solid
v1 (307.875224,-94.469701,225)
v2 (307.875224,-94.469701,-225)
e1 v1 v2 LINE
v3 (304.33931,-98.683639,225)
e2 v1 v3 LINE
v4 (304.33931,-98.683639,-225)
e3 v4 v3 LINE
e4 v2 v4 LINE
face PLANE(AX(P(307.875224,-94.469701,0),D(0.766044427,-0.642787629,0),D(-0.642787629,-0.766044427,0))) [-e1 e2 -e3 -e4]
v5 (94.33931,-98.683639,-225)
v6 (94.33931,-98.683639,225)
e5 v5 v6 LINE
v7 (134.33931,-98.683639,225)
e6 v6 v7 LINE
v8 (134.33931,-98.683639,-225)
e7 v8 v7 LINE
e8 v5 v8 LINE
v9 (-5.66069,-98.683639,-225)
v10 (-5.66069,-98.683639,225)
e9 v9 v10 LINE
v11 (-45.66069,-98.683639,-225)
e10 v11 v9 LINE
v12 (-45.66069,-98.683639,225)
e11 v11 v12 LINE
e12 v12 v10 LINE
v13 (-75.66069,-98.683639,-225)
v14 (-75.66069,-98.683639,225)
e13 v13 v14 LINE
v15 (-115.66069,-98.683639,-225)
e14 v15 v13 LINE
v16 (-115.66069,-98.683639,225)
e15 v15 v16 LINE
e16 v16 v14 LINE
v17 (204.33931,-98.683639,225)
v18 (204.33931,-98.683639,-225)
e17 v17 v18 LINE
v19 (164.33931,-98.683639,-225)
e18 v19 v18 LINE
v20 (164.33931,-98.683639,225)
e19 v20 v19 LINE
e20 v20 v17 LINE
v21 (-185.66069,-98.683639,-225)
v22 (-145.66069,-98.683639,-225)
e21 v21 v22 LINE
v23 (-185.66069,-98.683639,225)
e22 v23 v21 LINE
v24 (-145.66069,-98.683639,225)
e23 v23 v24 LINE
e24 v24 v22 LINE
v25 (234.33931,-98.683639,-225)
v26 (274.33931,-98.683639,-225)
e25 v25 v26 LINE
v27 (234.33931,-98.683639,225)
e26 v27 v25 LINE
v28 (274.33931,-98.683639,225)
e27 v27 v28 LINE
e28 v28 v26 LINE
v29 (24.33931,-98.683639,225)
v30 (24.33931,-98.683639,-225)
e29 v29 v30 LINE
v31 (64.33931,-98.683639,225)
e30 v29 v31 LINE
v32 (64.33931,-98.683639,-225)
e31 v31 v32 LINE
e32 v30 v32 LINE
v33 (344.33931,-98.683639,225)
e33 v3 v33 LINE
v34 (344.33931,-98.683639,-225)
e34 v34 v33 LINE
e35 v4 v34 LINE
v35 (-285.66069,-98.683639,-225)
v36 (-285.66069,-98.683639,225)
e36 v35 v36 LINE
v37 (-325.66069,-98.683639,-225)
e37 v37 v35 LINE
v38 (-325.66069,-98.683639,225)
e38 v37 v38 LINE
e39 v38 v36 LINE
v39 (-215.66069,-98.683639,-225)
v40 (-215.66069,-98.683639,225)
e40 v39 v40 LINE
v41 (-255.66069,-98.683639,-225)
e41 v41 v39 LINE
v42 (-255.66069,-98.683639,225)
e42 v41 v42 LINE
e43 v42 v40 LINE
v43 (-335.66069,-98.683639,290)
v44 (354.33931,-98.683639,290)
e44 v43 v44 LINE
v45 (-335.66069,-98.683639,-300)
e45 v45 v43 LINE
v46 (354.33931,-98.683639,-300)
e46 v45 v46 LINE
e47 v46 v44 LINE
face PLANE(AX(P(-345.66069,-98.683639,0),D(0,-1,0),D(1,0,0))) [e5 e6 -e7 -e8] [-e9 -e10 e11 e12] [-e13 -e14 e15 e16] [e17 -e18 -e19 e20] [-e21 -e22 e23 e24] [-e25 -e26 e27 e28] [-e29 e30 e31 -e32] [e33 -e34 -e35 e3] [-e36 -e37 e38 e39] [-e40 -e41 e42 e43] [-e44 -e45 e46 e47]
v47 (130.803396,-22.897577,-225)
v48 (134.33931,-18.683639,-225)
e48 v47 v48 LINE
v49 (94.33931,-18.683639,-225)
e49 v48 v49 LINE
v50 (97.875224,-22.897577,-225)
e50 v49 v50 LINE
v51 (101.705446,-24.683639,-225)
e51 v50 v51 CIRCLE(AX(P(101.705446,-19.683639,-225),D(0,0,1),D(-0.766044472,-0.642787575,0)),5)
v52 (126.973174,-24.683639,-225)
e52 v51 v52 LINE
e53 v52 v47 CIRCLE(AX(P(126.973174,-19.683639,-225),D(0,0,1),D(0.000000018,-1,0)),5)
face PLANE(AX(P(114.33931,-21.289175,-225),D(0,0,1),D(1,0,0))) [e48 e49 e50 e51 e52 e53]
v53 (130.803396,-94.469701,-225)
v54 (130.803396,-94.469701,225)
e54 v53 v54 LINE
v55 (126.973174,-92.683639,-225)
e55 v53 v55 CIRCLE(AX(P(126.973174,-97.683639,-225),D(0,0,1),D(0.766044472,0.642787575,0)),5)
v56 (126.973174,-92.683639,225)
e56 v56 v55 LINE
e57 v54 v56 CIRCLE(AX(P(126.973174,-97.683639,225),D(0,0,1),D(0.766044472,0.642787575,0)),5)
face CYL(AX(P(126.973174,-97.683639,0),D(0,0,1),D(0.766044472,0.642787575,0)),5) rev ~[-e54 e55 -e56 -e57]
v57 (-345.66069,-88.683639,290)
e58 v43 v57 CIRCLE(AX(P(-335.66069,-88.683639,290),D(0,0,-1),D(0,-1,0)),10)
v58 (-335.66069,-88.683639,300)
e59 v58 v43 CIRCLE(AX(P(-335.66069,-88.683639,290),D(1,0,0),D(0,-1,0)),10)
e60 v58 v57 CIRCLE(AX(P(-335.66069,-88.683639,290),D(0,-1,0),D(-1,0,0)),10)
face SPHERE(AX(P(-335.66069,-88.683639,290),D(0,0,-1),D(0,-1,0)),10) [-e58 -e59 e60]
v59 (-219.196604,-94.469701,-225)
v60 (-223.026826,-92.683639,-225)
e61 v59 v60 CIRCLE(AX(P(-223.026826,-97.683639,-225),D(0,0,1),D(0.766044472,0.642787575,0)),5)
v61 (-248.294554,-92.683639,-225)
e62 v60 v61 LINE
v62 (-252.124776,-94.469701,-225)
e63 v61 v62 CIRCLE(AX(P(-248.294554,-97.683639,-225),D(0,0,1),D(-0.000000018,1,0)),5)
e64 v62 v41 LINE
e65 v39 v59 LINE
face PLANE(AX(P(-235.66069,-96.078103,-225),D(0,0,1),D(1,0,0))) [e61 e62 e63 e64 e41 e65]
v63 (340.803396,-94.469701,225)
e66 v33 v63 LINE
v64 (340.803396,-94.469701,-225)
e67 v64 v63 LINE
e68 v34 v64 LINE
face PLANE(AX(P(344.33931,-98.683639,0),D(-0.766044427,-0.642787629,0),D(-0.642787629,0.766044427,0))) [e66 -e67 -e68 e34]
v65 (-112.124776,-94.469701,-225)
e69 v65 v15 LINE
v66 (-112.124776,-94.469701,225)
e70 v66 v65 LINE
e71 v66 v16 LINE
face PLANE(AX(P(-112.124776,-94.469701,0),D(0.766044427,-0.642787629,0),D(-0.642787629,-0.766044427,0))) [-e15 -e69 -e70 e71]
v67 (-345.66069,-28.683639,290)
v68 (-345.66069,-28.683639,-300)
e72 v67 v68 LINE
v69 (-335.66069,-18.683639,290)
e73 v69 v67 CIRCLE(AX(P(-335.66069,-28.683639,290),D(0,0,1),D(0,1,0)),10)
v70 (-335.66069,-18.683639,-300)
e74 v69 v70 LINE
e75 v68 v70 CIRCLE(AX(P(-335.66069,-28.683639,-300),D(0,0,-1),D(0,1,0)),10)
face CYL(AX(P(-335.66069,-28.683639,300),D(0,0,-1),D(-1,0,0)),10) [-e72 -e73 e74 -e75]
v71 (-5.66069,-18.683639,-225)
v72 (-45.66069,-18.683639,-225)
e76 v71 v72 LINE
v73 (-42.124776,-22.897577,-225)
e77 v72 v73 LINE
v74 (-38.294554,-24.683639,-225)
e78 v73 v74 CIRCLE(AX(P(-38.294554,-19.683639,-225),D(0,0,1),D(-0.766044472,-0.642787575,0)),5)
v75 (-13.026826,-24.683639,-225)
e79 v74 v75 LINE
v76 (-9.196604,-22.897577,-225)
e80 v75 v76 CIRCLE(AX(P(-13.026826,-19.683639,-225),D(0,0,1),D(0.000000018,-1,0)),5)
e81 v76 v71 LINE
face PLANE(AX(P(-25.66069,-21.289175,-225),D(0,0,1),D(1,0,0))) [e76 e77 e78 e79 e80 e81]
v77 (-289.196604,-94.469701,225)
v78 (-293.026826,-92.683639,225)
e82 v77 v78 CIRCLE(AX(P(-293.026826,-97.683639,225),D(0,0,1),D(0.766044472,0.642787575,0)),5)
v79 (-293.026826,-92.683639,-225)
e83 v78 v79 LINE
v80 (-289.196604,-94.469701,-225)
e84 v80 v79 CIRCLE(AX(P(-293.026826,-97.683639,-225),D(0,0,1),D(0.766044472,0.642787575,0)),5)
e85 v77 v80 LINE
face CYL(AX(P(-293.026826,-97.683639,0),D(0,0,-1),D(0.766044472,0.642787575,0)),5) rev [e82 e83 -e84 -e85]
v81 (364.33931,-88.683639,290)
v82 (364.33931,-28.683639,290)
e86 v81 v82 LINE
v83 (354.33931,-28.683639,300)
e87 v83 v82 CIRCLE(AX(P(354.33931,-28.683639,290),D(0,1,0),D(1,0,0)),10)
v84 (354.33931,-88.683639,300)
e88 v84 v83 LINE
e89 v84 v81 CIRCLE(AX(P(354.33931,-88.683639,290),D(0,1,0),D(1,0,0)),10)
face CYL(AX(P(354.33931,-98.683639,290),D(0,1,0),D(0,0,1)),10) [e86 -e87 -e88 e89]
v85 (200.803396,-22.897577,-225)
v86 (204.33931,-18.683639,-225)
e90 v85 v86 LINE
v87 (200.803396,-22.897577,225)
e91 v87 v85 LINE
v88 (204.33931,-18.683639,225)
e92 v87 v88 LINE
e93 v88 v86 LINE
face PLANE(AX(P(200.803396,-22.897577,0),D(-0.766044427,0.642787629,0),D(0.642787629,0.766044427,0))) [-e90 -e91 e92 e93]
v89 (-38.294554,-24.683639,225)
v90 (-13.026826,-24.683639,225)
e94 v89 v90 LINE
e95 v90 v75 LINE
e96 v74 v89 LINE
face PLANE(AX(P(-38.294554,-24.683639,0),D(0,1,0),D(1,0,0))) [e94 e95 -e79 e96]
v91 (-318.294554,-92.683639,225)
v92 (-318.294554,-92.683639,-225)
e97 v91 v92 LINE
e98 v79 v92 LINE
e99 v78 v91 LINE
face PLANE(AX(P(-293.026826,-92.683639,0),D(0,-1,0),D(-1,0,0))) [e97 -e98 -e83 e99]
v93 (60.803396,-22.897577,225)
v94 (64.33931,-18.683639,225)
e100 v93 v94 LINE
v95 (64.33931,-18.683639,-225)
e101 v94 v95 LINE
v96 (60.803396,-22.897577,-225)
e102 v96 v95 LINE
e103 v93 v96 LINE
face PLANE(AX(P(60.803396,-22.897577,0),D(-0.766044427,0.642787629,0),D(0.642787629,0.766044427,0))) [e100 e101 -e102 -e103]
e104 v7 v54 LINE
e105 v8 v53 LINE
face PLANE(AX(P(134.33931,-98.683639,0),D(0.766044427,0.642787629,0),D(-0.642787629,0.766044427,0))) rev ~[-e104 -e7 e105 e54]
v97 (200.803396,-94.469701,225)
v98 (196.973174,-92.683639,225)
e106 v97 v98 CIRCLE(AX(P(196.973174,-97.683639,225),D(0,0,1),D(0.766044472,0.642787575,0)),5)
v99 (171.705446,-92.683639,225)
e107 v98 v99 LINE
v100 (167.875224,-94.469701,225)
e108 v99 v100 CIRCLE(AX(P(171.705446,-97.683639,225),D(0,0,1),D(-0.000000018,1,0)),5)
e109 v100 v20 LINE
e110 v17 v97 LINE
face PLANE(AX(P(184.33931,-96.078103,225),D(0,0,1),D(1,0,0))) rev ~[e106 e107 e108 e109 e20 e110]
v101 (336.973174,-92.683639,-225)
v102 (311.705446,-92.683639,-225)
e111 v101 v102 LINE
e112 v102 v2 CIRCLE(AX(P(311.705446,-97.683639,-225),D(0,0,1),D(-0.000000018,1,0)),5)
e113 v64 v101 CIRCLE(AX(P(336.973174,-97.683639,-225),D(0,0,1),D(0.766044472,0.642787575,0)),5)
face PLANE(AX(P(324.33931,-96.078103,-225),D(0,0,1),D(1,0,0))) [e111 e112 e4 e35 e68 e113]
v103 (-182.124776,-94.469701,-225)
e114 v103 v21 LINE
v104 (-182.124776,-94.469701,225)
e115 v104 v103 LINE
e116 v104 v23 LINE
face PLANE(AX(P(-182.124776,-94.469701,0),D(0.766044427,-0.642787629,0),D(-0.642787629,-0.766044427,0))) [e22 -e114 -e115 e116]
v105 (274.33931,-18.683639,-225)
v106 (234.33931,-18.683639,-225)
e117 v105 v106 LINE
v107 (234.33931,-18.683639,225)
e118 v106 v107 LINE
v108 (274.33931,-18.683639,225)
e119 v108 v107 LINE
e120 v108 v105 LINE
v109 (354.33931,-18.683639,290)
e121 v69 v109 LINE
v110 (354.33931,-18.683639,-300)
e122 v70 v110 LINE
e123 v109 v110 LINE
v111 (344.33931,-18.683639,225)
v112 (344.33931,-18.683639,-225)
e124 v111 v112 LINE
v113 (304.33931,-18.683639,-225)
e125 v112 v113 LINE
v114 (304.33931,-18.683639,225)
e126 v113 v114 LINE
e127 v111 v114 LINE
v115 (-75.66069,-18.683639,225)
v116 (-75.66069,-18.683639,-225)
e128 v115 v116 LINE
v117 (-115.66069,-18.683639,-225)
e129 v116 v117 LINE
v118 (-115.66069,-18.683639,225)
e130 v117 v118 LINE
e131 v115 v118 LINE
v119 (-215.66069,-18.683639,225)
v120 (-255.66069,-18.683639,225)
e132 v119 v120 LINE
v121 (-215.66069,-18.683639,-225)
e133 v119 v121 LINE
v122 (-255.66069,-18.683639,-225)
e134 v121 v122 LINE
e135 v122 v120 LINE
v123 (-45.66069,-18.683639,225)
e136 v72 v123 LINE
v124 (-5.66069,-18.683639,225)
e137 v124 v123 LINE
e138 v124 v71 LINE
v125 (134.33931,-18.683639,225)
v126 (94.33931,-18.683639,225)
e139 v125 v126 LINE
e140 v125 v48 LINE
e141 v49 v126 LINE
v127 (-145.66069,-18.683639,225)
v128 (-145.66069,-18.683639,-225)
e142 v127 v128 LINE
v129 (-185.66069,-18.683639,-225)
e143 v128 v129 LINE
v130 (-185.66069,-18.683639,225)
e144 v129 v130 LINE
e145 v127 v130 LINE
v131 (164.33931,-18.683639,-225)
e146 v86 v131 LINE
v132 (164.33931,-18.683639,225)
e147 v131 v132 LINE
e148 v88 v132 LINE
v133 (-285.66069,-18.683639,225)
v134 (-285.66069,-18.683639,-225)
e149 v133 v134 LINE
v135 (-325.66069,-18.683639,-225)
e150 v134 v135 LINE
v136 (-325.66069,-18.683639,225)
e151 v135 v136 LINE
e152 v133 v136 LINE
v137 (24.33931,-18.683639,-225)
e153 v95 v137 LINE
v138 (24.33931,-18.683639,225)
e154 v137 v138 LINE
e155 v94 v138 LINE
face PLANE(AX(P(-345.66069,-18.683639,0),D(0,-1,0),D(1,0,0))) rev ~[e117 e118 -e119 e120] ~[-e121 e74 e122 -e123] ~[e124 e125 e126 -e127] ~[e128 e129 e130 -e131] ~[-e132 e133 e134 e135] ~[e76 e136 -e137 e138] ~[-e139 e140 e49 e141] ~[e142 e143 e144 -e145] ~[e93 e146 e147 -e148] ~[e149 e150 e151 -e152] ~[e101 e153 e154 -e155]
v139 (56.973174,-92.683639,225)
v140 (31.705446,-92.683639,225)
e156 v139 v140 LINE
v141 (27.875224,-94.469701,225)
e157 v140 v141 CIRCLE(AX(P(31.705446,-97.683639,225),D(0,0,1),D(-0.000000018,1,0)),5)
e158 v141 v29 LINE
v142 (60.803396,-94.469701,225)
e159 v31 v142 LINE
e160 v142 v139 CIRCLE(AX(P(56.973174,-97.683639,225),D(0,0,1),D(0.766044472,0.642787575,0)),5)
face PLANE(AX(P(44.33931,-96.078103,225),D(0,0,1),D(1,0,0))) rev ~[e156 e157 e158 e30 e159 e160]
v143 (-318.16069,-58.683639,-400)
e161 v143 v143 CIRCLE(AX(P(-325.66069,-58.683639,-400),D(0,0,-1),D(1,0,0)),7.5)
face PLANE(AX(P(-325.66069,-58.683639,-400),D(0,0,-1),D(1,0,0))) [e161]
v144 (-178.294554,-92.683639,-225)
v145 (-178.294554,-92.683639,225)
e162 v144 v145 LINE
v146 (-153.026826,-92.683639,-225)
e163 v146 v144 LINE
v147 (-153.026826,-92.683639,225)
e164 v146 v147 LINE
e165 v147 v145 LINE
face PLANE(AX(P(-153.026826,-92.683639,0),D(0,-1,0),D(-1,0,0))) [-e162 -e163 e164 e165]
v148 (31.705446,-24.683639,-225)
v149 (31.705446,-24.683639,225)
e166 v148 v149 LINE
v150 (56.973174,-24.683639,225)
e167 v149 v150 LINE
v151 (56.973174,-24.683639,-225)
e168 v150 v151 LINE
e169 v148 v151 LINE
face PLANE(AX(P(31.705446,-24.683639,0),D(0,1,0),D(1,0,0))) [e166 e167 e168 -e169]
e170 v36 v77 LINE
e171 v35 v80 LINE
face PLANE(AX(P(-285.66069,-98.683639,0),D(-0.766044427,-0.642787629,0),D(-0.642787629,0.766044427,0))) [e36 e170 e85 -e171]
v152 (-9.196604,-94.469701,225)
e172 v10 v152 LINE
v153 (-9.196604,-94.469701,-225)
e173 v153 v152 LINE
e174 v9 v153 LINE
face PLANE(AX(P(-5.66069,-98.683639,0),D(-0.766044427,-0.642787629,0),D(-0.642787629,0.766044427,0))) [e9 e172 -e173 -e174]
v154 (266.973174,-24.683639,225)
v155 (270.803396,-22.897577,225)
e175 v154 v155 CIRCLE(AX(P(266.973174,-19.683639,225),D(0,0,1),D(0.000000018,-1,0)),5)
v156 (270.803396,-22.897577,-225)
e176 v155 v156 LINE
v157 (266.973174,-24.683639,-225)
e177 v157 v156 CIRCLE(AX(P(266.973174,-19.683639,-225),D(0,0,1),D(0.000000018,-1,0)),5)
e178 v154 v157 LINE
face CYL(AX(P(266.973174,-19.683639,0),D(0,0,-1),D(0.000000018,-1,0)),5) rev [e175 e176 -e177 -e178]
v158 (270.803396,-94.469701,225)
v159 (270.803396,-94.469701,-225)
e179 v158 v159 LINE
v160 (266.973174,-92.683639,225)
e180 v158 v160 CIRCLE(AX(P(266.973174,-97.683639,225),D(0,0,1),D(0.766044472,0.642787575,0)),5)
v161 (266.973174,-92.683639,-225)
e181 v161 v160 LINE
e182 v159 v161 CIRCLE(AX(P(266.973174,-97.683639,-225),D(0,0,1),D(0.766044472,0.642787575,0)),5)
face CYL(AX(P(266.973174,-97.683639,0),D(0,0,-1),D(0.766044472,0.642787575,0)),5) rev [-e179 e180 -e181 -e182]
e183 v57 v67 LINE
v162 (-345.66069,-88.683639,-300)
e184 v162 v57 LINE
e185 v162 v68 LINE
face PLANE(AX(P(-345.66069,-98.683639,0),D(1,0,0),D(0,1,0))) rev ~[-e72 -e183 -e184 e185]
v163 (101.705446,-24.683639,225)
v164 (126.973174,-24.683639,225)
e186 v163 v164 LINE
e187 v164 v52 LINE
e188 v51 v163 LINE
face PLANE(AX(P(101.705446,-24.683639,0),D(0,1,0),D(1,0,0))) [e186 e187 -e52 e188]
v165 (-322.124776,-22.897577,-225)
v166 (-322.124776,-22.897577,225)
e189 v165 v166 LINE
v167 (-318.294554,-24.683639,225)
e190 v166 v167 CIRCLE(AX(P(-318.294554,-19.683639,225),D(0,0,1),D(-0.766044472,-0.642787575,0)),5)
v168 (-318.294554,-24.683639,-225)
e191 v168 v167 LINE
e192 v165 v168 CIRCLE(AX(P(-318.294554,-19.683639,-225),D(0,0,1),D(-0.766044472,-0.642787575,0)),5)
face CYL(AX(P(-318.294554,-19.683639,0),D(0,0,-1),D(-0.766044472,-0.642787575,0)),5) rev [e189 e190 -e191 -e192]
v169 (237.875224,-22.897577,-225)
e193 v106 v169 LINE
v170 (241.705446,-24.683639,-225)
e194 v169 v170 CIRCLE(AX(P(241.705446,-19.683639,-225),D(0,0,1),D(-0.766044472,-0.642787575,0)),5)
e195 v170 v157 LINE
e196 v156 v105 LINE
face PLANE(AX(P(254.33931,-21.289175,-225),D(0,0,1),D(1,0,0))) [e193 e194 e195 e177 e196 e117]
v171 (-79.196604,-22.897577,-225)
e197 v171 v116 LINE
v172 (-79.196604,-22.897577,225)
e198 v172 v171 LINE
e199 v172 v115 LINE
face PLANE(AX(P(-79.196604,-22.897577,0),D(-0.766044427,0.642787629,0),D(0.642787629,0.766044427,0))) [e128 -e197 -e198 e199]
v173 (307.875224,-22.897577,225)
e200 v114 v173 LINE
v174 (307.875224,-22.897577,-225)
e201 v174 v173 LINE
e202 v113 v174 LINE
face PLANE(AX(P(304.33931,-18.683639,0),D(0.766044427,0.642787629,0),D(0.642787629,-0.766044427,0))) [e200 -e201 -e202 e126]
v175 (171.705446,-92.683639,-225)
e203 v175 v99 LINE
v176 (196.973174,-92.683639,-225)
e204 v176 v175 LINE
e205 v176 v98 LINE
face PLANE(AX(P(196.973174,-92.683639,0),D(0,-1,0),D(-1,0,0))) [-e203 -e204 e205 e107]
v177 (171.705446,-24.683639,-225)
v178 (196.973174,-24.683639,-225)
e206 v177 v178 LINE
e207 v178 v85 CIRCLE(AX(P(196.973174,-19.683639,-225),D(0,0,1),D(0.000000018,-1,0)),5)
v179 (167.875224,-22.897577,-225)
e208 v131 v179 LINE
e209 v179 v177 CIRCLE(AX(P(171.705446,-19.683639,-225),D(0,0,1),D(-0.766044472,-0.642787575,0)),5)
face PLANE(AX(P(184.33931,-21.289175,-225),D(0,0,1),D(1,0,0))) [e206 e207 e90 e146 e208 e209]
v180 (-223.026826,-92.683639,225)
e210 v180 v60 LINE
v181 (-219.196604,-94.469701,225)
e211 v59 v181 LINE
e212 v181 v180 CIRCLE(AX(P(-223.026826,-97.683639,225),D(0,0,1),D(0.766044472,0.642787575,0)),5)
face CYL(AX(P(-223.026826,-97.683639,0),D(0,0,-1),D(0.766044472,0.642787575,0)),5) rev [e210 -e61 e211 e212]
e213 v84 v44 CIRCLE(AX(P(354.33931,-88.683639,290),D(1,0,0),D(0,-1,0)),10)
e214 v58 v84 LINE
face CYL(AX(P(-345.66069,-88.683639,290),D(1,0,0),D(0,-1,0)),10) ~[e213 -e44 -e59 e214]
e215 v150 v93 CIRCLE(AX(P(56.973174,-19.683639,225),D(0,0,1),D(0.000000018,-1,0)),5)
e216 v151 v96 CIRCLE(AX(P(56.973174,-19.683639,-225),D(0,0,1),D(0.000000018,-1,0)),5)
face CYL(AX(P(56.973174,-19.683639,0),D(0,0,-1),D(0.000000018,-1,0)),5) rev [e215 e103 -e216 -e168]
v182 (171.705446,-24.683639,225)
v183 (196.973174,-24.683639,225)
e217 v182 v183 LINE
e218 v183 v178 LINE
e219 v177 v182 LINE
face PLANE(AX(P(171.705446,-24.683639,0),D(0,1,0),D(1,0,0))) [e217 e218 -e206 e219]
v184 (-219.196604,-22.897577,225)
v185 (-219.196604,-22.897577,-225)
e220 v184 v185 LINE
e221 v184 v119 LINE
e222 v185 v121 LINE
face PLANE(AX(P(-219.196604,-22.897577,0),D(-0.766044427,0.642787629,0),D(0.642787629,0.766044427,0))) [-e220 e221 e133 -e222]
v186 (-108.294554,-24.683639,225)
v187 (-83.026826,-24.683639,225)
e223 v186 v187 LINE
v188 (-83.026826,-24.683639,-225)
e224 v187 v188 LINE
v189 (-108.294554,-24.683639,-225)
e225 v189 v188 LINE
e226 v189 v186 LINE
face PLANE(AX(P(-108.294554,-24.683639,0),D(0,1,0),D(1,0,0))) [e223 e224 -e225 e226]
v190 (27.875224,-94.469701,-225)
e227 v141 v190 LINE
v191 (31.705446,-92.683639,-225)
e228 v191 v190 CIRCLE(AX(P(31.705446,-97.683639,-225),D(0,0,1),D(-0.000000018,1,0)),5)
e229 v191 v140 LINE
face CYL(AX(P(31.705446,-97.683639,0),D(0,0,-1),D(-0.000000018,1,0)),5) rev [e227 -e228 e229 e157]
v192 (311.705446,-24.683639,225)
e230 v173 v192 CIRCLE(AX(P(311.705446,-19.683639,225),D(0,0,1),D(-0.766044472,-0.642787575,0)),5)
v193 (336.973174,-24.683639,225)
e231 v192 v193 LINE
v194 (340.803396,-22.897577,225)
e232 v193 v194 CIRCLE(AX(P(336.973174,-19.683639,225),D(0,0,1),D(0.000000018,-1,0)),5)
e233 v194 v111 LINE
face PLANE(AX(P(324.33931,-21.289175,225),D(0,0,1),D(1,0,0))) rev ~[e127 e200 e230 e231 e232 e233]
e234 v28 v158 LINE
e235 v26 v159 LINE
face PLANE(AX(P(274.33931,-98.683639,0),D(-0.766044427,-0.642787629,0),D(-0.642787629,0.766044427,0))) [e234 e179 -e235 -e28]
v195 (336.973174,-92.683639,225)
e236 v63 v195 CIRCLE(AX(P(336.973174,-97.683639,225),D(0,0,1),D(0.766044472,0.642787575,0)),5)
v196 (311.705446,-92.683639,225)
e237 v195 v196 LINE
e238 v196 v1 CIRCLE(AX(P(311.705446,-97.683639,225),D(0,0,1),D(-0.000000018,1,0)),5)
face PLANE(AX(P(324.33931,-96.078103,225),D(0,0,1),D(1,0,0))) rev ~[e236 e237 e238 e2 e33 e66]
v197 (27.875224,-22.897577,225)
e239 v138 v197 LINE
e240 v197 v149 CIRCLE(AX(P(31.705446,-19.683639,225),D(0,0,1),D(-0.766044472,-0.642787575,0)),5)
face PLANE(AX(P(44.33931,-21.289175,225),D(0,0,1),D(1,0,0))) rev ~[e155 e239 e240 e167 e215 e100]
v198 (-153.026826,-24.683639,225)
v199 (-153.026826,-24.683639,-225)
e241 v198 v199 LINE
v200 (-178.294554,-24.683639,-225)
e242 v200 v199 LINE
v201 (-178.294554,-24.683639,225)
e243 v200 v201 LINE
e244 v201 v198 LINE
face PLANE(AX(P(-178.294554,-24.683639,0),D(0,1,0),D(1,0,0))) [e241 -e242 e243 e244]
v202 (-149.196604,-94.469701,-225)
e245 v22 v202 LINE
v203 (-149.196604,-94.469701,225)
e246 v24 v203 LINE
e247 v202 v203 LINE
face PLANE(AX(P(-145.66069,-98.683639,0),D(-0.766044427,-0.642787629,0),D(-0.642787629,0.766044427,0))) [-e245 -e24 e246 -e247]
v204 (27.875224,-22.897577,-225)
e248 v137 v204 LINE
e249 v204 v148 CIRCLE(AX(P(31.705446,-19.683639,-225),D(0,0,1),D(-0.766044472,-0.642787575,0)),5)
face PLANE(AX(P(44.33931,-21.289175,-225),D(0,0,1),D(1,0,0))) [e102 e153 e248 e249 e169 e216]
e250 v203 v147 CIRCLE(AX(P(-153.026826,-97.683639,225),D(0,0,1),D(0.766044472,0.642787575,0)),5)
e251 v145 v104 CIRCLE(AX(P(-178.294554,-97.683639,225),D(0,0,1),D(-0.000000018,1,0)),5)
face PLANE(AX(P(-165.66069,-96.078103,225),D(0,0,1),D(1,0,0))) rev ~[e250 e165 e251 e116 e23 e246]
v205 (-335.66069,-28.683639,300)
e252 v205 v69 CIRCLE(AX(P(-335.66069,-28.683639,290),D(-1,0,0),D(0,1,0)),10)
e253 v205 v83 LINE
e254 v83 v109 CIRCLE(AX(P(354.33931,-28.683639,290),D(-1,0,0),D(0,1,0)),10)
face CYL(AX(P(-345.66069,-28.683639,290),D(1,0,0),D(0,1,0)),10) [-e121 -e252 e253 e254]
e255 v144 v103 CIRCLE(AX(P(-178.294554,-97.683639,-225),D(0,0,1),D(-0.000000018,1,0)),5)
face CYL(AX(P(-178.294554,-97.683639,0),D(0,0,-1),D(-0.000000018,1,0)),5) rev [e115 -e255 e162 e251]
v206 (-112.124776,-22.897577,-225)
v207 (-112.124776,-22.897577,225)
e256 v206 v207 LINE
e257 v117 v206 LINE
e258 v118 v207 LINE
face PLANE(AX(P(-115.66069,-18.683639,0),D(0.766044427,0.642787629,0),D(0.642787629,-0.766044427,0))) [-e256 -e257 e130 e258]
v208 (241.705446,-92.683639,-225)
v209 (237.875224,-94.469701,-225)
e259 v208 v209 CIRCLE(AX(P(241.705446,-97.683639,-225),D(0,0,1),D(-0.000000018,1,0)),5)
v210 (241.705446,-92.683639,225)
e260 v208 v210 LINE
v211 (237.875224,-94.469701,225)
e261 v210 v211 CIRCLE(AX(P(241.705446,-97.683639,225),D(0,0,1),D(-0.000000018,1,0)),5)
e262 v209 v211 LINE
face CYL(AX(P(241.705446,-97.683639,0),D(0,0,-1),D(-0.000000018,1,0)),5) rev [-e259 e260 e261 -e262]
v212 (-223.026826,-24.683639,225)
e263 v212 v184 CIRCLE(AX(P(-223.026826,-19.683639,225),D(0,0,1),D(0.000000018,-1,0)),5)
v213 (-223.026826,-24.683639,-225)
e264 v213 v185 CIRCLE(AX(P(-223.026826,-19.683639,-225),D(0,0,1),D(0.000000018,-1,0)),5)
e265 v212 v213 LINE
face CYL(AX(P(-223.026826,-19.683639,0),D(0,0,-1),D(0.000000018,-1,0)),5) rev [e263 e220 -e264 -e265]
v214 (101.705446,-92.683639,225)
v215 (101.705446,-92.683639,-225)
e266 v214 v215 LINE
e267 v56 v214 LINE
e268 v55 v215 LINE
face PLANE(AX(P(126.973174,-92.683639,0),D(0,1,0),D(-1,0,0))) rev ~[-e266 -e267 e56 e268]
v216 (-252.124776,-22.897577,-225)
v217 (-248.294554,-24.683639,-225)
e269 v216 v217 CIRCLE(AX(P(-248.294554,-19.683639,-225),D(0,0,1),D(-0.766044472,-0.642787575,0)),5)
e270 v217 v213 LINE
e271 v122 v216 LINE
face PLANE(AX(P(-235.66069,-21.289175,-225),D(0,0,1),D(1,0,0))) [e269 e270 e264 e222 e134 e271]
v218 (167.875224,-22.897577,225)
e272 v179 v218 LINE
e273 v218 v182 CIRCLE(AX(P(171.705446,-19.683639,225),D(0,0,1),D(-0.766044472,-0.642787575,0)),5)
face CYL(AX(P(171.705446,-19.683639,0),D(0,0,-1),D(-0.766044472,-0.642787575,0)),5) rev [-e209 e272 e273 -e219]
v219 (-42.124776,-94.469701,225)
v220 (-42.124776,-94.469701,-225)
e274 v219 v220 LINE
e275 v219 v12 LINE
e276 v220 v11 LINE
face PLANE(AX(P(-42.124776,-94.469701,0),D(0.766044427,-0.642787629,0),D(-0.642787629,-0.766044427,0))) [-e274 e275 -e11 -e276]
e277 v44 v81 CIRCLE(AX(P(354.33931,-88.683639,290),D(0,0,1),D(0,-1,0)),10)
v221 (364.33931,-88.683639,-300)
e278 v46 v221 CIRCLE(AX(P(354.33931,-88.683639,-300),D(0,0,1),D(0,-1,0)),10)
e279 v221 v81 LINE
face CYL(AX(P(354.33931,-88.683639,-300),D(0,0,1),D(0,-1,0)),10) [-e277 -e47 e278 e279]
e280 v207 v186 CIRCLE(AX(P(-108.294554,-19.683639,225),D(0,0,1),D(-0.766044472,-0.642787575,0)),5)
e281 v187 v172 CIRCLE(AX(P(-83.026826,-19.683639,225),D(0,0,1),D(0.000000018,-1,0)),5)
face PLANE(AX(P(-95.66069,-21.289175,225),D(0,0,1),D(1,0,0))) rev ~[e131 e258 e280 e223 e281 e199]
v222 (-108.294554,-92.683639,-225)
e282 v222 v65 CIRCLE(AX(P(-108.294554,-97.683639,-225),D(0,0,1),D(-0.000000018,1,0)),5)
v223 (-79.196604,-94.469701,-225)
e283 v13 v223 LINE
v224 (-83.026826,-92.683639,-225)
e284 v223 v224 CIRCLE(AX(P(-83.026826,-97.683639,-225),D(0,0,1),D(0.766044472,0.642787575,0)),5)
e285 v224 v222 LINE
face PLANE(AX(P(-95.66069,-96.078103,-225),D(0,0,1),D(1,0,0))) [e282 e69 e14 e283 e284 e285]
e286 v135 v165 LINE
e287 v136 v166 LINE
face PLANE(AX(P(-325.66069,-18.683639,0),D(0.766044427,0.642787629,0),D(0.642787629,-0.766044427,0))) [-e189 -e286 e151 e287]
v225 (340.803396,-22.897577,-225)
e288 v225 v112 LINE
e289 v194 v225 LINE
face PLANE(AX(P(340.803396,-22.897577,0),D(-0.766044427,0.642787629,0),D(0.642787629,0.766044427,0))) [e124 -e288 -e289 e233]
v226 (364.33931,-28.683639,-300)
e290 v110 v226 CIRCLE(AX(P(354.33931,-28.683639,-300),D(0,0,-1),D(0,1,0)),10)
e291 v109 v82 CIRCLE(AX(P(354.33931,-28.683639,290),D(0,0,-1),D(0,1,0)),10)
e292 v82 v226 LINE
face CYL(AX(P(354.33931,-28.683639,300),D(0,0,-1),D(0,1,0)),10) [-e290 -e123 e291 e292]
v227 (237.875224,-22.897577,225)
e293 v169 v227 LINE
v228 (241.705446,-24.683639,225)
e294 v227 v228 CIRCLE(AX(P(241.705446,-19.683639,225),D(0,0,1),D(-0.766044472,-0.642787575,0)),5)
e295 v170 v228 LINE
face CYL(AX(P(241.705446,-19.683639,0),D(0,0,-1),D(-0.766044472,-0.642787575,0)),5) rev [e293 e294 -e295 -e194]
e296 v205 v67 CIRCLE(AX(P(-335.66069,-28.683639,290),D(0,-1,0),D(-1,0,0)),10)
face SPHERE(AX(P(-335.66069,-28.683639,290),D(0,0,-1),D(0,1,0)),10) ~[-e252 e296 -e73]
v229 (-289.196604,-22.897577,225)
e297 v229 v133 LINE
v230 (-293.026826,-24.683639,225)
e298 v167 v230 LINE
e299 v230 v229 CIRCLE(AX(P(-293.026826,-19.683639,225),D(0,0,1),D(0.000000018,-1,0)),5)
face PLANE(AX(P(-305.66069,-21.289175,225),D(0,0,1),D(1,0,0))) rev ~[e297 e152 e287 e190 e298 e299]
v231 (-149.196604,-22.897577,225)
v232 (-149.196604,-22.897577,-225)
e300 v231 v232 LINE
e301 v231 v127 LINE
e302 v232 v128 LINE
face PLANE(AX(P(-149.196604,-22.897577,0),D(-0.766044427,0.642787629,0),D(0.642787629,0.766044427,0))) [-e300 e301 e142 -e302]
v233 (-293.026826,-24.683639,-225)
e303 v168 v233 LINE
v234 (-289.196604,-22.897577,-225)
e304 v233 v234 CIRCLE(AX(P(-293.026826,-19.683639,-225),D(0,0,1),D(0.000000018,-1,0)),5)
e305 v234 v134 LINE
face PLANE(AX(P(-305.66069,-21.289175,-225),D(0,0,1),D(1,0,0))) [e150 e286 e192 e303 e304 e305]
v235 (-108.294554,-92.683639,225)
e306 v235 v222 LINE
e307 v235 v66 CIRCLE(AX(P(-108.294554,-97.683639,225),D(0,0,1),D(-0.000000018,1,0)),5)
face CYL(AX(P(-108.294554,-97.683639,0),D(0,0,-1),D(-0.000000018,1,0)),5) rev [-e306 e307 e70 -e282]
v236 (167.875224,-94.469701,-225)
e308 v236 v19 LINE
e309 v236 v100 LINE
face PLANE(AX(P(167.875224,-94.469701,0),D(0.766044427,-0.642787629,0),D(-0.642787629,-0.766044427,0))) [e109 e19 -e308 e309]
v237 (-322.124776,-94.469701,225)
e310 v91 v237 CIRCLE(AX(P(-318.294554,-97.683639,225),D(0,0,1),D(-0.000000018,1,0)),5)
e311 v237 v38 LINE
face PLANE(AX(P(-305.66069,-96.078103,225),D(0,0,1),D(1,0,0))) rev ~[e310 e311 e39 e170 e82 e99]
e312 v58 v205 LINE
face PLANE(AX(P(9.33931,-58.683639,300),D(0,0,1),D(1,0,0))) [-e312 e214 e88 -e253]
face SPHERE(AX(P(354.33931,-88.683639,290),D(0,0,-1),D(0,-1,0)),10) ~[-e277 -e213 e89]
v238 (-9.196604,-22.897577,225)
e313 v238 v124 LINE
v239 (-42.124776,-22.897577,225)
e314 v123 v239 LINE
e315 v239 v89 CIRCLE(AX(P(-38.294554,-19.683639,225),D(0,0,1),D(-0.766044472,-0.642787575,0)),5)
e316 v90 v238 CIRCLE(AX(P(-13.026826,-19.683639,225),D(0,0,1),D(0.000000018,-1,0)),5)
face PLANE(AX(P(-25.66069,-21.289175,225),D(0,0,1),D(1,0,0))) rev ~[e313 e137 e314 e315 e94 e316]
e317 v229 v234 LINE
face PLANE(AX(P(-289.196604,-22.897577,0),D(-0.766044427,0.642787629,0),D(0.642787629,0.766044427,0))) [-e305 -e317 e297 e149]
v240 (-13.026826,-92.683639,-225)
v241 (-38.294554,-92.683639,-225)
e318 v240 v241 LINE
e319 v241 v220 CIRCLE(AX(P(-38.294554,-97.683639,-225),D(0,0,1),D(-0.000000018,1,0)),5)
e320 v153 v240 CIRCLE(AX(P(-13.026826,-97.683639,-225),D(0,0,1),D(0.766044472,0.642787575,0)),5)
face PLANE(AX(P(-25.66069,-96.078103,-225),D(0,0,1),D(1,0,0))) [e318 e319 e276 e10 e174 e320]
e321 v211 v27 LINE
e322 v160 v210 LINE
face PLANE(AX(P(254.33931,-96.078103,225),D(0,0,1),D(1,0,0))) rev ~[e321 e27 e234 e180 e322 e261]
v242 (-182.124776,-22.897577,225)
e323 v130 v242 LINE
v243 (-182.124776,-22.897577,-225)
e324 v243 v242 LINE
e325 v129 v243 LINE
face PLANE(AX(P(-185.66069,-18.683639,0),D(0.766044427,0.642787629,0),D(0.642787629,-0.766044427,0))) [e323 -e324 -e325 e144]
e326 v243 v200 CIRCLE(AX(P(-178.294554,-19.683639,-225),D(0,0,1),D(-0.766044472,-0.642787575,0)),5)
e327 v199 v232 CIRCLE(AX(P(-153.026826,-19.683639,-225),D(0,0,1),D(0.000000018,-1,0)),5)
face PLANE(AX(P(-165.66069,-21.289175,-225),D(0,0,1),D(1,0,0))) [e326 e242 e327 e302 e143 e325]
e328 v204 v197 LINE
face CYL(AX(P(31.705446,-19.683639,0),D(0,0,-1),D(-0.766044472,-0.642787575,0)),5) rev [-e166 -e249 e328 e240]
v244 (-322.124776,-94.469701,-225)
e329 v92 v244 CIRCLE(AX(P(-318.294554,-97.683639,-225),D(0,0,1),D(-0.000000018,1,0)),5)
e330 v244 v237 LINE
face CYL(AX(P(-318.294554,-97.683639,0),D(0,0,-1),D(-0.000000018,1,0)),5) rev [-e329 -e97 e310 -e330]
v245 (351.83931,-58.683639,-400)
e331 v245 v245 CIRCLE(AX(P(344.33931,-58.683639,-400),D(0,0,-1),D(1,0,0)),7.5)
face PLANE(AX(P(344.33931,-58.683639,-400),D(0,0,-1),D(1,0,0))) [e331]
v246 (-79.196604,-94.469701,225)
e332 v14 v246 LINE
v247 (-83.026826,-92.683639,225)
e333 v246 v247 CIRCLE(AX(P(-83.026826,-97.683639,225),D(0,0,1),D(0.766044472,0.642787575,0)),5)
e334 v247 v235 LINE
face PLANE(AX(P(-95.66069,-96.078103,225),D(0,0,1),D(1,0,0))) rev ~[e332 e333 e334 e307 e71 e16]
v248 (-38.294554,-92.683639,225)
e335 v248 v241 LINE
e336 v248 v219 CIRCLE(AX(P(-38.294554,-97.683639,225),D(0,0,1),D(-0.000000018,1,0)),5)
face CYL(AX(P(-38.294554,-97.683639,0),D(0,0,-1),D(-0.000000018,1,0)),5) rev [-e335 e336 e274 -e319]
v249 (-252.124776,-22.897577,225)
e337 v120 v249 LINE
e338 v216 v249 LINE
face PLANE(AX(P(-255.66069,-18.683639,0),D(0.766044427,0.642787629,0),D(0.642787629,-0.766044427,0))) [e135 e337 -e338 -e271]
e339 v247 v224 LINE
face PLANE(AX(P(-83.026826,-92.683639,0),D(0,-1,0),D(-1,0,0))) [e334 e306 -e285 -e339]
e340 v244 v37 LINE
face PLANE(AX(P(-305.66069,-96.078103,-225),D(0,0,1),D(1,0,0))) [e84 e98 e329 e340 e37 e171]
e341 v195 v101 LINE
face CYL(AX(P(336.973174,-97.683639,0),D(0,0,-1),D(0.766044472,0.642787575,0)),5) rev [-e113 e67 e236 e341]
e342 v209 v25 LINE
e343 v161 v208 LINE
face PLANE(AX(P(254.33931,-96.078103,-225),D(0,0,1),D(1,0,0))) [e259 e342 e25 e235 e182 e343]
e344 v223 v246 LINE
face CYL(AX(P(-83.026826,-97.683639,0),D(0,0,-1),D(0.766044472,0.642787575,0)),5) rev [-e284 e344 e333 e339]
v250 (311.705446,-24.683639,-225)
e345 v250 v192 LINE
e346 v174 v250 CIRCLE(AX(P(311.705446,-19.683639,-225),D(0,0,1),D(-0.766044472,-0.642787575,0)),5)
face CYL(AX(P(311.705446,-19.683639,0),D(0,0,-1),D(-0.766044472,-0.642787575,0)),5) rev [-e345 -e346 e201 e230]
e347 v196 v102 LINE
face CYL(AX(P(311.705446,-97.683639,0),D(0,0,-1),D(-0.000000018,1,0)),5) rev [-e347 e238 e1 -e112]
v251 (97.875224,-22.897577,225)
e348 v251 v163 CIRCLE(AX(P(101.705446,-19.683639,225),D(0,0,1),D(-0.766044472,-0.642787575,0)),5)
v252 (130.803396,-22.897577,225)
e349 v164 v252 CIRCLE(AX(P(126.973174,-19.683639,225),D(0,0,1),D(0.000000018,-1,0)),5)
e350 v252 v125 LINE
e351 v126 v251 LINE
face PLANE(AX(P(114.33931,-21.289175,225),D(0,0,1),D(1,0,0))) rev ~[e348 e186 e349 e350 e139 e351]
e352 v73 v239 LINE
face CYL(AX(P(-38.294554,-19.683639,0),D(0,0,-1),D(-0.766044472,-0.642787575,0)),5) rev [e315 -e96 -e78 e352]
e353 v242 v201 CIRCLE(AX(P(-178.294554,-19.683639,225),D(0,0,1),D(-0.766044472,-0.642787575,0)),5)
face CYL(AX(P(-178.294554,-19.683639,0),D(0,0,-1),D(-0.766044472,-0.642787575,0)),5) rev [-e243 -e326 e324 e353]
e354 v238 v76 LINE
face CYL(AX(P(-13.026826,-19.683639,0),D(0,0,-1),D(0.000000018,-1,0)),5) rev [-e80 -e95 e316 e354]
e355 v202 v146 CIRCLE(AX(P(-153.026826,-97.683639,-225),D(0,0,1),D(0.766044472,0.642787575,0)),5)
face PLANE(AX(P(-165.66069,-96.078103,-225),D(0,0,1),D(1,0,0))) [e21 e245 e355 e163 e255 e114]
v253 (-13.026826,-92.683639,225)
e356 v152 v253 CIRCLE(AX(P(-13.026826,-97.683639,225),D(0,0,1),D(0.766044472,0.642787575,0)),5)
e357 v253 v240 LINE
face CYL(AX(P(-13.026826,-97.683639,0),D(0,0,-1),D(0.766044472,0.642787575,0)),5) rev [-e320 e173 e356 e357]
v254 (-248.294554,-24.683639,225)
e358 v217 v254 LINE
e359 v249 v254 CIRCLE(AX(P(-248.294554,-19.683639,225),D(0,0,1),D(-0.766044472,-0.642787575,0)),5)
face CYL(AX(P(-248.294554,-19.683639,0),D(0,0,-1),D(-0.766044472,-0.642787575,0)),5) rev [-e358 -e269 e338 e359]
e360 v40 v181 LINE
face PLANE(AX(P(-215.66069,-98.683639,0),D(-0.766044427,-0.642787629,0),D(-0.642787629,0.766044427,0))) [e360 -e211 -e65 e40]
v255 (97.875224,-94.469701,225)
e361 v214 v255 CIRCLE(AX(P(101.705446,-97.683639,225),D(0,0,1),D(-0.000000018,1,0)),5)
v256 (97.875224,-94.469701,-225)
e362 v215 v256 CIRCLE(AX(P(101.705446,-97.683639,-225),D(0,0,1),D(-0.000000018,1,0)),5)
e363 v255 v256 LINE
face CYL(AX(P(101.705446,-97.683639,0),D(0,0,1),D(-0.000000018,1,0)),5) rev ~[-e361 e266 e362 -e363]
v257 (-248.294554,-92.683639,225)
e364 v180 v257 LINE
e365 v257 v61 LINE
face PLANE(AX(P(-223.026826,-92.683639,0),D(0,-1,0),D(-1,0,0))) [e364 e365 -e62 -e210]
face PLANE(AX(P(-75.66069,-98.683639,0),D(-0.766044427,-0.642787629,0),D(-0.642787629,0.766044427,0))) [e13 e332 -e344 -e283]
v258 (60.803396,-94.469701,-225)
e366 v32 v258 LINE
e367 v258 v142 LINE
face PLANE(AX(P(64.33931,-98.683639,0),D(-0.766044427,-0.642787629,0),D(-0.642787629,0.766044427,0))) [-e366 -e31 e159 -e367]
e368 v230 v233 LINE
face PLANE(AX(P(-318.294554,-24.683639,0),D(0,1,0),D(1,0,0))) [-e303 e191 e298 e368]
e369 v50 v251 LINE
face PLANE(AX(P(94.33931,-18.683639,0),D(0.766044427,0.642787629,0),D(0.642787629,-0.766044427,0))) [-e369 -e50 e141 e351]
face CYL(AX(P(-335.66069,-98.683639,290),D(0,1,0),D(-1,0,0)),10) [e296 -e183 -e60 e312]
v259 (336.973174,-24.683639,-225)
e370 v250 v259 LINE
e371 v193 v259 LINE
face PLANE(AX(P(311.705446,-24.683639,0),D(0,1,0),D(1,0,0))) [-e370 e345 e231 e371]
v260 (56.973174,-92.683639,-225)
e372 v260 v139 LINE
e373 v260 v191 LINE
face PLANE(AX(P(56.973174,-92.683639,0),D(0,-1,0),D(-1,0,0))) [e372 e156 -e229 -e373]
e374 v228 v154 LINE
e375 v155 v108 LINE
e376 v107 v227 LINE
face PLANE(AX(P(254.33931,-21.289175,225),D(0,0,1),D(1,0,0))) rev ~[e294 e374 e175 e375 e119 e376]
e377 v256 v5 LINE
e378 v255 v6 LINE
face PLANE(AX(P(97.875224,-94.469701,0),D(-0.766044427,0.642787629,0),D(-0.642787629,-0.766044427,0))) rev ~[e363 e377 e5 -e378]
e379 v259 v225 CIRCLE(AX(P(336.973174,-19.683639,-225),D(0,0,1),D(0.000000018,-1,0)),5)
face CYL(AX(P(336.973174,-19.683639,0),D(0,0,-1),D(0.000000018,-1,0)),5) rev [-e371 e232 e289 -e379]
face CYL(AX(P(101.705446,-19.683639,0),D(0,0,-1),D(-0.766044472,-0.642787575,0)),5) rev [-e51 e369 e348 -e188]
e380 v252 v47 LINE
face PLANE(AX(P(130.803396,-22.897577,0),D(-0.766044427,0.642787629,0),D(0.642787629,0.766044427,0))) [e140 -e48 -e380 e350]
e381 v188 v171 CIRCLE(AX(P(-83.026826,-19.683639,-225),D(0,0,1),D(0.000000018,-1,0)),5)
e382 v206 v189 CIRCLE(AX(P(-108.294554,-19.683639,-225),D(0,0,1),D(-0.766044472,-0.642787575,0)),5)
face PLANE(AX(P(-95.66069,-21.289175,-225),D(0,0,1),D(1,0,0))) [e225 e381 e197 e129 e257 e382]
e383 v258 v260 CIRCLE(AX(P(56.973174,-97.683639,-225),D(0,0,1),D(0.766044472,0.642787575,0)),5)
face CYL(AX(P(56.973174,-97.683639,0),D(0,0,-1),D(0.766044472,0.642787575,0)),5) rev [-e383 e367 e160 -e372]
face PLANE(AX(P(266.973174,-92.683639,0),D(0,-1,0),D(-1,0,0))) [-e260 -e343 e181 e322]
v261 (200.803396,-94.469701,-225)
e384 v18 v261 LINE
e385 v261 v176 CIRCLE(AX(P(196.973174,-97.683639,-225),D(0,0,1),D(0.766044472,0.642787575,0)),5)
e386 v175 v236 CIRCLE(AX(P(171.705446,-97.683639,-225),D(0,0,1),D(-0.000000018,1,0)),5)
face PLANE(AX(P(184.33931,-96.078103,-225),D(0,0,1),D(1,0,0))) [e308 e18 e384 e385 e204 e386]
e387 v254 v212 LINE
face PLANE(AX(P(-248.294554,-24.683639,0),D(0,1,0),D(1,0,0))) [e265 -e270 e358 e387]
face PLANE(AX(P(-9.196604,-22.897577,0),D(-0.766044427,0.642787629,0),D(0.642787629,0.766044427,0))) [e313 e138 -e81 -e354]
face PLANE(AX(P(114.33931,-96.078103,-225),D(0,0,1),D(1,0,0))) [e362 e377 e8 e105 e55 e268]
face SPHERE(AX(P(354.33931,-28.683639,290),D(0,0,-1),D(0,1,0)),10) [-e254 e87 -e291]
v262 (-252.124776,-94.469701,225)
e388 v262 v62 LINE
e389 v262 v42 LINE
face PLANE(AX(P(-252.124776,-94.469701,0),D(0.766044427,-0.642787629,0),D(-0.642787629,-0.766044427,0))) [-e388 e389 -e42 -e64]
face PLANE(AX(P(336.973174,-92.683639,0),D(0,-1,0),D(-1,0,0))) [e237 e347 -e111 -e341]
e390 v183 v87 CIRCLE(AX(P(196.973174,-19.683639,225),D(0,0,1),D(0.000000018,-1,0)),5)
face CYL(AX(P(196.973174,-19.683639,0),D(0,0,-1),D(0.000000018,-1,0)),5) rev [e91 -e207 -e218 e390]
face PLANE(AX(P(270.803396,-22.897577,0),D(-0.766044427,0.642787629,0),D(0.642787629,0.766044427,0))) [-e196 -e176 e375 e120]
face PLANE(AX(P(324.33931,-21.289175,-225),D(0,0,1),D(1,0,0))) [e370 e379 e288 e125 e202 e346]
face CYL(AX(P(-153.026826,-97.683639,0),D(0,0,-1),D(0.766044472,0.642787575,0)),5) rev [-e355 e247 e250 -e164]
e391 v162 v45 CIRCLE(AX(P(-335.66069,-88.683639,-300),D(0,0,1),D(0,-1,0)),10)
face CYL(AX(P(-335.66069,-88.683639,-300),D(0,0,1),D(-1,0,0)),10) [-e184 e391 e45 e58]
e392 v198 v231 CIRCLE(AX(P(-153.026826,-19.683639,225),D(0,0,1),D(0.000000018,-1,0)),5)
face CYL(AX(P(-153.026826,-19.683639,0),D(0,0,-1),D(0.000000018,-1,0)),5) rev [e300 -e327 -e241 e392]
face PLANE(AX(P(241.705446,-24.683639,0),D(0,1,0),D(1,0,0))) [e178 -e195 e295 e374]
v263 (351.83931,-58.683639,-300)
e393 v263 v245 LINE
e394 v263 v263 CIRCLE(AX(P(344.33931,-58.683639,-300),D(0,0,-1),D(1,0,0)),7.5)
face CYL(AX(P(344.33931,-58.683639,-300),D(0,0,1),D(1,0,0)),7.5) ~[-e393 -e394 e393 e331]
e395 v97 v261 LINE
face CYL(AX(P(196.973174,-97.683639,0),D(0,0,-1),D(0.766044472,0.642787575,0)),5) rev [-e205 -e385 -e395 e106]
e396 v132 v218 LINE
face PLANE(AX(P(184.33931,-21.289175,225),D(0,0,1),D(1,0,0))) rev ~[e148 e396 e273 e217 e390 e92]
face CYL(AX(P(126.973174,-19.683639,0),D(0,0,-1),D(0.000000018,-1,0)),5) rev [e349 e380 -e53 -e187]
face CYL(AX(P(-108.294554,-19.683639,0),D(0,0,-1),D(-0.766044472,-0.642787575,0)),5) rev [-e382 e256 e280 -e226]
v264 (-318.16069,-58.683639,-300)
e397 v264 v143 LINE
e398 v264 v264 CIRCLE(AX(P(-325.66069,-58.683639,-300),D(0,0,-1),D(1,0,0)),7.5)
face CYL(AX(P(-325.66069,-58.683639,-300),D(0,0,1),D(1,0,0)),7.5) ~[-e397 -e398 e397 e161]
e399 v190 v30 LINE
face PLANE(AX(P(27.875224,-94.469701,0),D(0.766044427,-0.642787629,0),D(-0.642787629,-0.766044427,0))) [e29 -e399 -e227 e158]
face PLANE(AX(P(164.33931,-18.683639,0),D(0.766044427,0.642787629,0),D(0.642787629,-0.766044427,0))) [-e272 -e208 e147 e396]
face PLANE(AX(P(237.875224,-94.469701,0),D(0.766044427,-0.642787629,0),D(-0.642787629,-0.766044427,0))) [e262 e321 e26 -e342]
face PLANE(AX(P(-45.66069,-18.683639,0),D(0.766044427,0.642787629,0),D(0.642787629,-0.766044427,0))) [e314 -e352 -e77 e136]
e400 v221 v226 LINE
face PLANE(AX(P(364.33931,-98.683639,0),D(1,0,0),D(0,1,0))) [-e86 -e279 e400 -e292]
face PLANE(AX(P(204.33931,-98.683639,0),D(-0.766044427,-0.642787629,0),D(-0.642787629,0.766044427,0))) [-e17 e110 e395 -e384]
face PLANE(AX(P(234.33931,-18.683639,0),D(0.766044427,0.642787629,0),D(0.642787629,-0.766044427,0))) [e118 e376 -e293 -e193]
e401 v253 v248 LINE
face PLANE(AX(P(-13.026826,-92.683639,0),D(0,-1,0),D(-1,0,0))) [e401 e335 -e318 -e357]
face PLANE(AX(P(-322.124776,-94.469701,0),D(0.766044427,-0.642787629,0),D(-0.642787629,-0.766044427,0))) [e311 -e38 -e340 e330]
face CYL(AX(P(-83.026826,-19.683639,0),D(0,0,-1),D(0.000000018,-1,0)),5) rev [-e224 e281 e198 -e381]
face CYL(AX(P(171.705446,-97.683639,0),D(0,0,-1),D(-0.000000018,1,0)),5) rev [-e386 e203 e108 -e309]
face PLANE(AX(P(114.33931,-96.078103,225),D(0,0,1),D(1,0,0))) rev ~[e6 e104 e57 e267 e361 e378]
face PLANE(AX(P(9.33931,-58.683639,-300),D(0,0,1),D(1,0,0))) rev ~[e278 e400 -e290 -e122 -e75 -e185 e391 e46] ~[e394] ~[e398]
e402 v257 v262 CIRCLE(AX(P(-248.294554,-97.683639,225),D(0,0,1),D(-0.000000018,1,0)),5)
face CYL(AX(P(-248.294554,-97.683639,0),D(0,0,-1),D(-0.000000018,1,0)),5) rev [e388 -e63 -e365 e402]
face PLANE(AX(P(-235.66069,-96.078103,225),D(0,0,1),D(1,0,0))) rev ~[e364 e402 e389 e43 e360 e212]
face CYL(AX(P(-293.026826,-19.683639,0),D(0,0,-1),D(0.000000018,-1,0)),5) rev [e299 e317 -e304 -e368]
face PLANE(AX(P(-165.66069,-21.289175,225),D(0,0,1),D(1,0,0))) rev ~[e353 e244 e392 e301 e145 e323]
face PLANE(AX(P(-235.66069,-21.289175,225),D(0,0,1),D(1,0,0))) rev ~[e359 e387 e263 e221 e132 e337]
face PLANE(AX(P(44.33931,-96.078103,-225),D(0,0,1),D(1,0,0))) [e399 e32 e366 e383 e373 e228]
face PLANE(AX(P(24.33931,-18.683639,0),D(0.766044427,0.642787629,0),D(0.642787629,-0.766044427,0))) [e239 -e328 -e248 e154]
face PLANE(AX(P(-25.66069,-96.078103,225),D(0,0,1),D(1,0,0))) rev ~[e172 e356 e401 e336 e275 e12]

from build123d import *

# Parameters (mm, degrees)
F0_W     = 710
F0_H     = 80
F1_DEPTH = 300
F2_R     = 7.5
F3_DEPTH = 100
F5_DEPTH = 225
F6_R     = 10


with BuildPart() as f1:
    # F0 (on Top) → F1 (new body, symmetric)
    with BuildSketch(Plane.XY):
        with Locations((9.33931, -58.683639)):
            Rectangle(F0_W, F0_H)
    extrude(amount=F1_DEPTH, both=True)

    # F2 (on face) → F3 (join)
    with BuildSketch(Plane(origin=(0, 0, -300), x_dir=(1, 0, 0), z_dir=(0, 0, -1))):
        with Locations((344.33931, 58.683639)):
            Circle(F2_R)
        with Locations((-325.66069, 58.683639)):
            Circle(F2_R)
    extrude(amount=F3_DEPTH)

    # F4 (on Top) → F5 (cut, symmetric)
    with BuildSketch(Plane.XY):
        with BuildLine():
            Line((-285.66069, -18.683639), (-325.66069, -18.683639))
            Line((-325.66069, -18.683639), (-322.124776, -22.897577))
            ThreePointArc((-322.124776, -22.897577), (-320.407645, -24.215178), (-318.294554, -24.683639))
            Line((-318.294554, -24.683639), (-293.026826, -24.683639))
            ThreePointArc((-293.026826, -24.683639), (-290.913735, -24.215178), (-289.196604, -22.897577))
            Line((-289.196604, -22.897577), (-285.66069, -18.683639))
        make_face()
        with BuildLine():
            Line((-215.66069, -18.683639), (-255.66069, -18.683639))
            Line((-255.66069, -18.683639), (-252.124776, -22.897577))
            ThreePointArc((-252.124776, -22.897577), (-250.407645, -24.215178), (-248.294554, -24.683639))
            Line((-248.294554, -24.683639), (-223.026826, -24.683639))
            ThreePointArc((-223.026826, -24.683639), (-220.913735, -24.215178), (-219.196604, -22.897577))
            Line((-219.196604, -22.897577), (-215.66069, -18.683639))
        make_face()
        with BuildLine():
            Line((-145.66069, -18.683639), (-185.66069, -18.683639))
            Line((-185.66069, -18.683639), (-182.124776, -22.897577))
            ThreePointArc((-182.124776, -22.897577), (-180.407645, -24.215178), (-178.294554, -24.683639))
            Line((-178.294554, -24.683639), (-153.026826, -24.683639))
            ThreePointArc((-153.026826, -24.683639), (-150.913735, -24.215178), (-149.196604, -22.897577))
            Line((-149.196604, -22.897577), (-145.66069, -18.683639))
        make_face()
        with BuildLine():
            Line((-75.66069, -18.683639), (-115.66069, -18.683639))
            Line((-115.66069, -18.683639), (-112.124776, -22.897577))
            ThreePointArc((-112.124776, -22.897577), (-110.407645, -24.215178), (-108.294554, -24.683639))
            Line((-108.294554, -24.683639), (-83.026826, -24.683639))
            ThreePointArc((-83.026826, -24.683639), (-80.913735, -24.215178), (-79.196604, -22.897577))
            Line((-79.196604, -22.897577), (-75.66069, -18.683639))
        make_face()
        with BuildLine():
            Line((-5.66069, -18.683639), (-45.66069, -18.683639))
            Line((-45.66069, -18.683639), (-42.124776, -22.897577))
            ThreePointArc((-42.124776, -22.897577), (-40.407645, -24.215178), (-38.294554, -24.683639))
            Line((-38.294554, -24.683639), (-13.026826, -24.683639))
            ThreePointArc((-13.026826, -24.683639), (-10.913735, -24.215178), (-9.196604, -22.897577))
            Line((-9.196604, -22.897577), (-5.66069, -18.683639))
        make_face()
        with BuildLine():
            Line((64.33931, -18.683639), (24.33931, -18.683639))
            Line((24.33931, -18.683639), (27.875224, -22.897577))
            ThreePointArc((27.875224, -22.897577), (29.592355, -24.215178), (31.705446, -24.683639))
            Line((31.705446, -24.683639), (56.973174, -24.683639))
            ThreePointArc((56.973174, -24.683639), (59.086265, -24.215178), (60.803396, -22.897577))
            Line((60.803396, -22.897577), (64.33931, -18.683639))
        make_face()
        with BuildLine():
            Line((134.33931, -18.683639), (94.33931, -18.683639))
            Line((94.33931, -18.683639), (97.875224, -22.897577))
            ThreePointArc((97.875224, -22.897577), (99.592355, -24.215178), (101.705446, -24.683639))
            Line((101.705446, -24.683639), (126.973174, -24.683639))
            ThreePointArc((126.973174, -24.683639), (129.086265, -24.215178), (130.803396, -22.897577))
            Line((130.803396, -22.897577), (134.33931, -18.683639))
        make_face()
        with BuildLine():
            Line((204.33931, -18.683639), (164.33931, -18.683639))
            Line((164.33931, -18.683639), (167.875224, -22.897577))
            ThreePointArc((167.875224, -22.897577), (169.592355, -24.215178), (171.705446, -24.683639))
            Line((171.705446, -24.683639), (196.973174, -24.683639))
            ThreePointArc((196.973174, -24.683639), (199.086265, -24.215178), (200.803396, -22.897577))
            Line((200.803396, -22.897577), (204.33931, -18.683639))
        make_face()
        with BuildLine():
            Line((274.33931, -18.683639), (234.33931, -18.683639))
            Line((234.33931, -18.683639), (237.875224, -22.897577))
            ThreePointArc((237.875224, -22.897577), (239.592355, -24.215178), (241.705446, -24.683639))
            Line((241.705446, -24.683639), (266.973174, -24.683639))
            ThreePointArc((266.973174, -24.683639), (269.086265, -24.215178), (270.803396, -22.897577))
            Line((270.803396, -22.897577), (274.33931, -18.683639))
        make_face()
        with BuildLine():
            Line((344.33931, -18.683639), (304.33931, -18.683639))
            Line((304.33931, -18.683639), (307.875224, -22.897577))
            ThreePointArc((307.875224, -22.897577), (309.592355, -24.215178), (311.705446, -24.683639))
            Line((311.705446, -24.683639), (336.973174, -24.683639))
            ThreePointArc((336.973174, -24.683639), (339.086265, -24.215178), (340.803396, -22.897577))
            Line((340.803396, -22.897577), (344.33931, -18.683639))
        make_face()
        with BuildLine():
            ThreePointArc((-318.294554, -92.683639), (-320.407645, -93.1521), (-322.124776, -94.469701))
            Line((-322.124776, -94.469701), (-325.66069, -98.683639))
            Line((-325.66069, -98.683639), (-285.66069, -98.683639))
            Line((-285.66069, -98.683639), (-289.196604, -94.469701))
            ThreePointArc((-289.196604, -94.469701), (-290.913735, -93.1521), (-293.026826, -92.683639))
            Line((-293.026826, -92.683639), (-318.294554, -92.683639))
        make_face()
        with BuildLine():
            Line((-252.124776, -94.469701), (-255.66069, -98.683639))
            Line((-255.66069, -98.683639), (-215.66069, -98.683639))
            Line((-215.66069, -98.683639), (-219.196604, -94.469701))
            ThreePointArc((-219.196604, -94.469701), (-220.913735, -93.1521), (-223.026826, -92.683639))
            Line((-223.026826, -92.683639), (-248.294554, -92.683639))
            ThreePointArc((-248.294554, -92.683639), (-250.407645, -93.1521), (-252.124776, -94.469701))
        make_face()
        with BuildLine():
            ThreePointArc((200.803396, -94.469701), (199.086265, -93.1521), (196.973174, -92.683639))
            Line((196.973174, -92.683639), (171.705446, -92.683639))
            ThreePointArc((171.705446, -92.683639), (169.592355, -93.1521), (167.875224, -94.469701))
            Line((167.875224, -94.469701), (164.33931, -98.683639))
            Line((164.33931, -98.683639), (204.33931, -98.683639))
            Line((204.33931, -98.683639), (200.803396, -94.469701))
        make_face()
        with BuildLine():
            Line((-112.124776, -94.469701), (-115.66069, -98.683639))
            Line((-115.66069, -98.683639), (-75.66069, -98.683639))
            Line((-75.66069, -98.683639), (-79.196604, -94.469701))
            ThreePointArc((-79.196604, -94.469701), (-80.913735, -93.1521), (-83.026826, -92.683639))
            Line((-83.026826, -92.683639), (-108.294554, -92.683639))
            ThreePointArc((-108.294554, -92.683639), (-110.407645, -93.1521), (-112.124776, -94.469701))
        make_face()
        with BuildLine():
            Line((-145.66069, -98.683639), (-149.196604, -94.469701))
            ThreePointArc((-149.196604, -94.469701), (-150.913735, -93.1521), (-153.026826, -92.683639))
            Line((-153.026826, -92.683639), (-178.294554, -92.683639))
            ThreePointArc((-178.294554, -92.683639), (-180.407645, -93.1521), (-182.124776, -94.469701))
            Line((-182.124776, -94.469701), (-185.66069, -98.683639))
            Line((-185.66069, -98.683639), (-145.66069, -98.683639))
        make_face()
        with BuildLine():
            Line((307.875224, -94.469701), (304.33931, -98.683639))
            Line((304.33931, -98.683639), (344.33931, -98.683639))
            Line((344.33931, -98.683639), (340.803396, -94.469701))
            ThreePointArc((340.803396, -94.469701), (339.086265, -93.1521), (336.973174, -92.683639))
            Line((336.973174, -92.683639), (311.705446, -92.683639))
            ThreePointArc((311.705446, -92.683639), (309.592355, -93.1521), (307.875224, -94.469701))
        make_face()
        with BuildLine():
            Line((-42.124776, -94.469701), (-45.66069, -98.683639))
            Line((-45.66069, -98.683639), (-5.66069, -98.683639))
            Line((-5.66069, -98.683639), (-9.196604, -94.469701))
            ThreePointArc((-9.196604, -94.469701), (-10.913735, -93.1521), (-13.026826, -92.683639))
            Line((-13.026826, -92.683639), (-38.294554, -92.683639))
            ThreePointArc((-38.294554, -92.683639), (-40.407645, -93.1521), (-42.124776, -94.469701))
        make_face()
        with BuildLine():
            Line((64.33931, -98.683639), (60.803396, -94.469701))
            ThreePointArc((60.803396, -94.469701), (59.086265, -93.1521), (56.973174, -92.683639))
            Line((56.973174, -92.683639), (31.705446, -92.683639))
            ThreePointArc((31.705446, -92.683639), (29.592355, -93.1521), (27.875224, -94.469701))
            Line((27.875224, -94.469701), (24.33931, -98.683639))
            Line((24.33931, -98.683639), (64.33931, -98.683639))
        make_face()
        with BuildLine():
            ThreePointArc((270.803396, -94.469701), (269.086265, -93.1521), (266.973174, -92.683639))
            Line((266.973174, -92.683639), (241.705446, -92.683639))
            ThreePointArc((241.705446, -92.683639), (239.592355, -93.1521), (237.875224, -94.469701))
            Line((237.875224, -94.469701), (234.33931, -98.683639))
            Line((234.33931, -98.683639), (274.33931, -98.683639))
            Line((274.33931, -98.683639), (270.803396, -94.469701))
        make_face()
        with BuildLine():
            Line((97.875224, -94.469701), (94.33931, -98.683639))
            Line((94.33931, -98.683639), (134.33931, -98.683639))
            Line((134.33931, -98.683639), (130.803396, -94.469701))
            ThreePointArc((130.803396, -94.469701), (129.086265, -93.1521), (126.973174, -92.683639))
            Line((126.973174, -92.683639), (101.705446, -92.683639))
            ThreePointArc((101.705446, -92.683639), (99.592355, -93.1521), (97.875224, -94.469701))
        make_face()
    extrude(amount=F5_DEPTH, both=True, mode=Mode.SUBTRACT)

    # F6
    f6_edges = [f1.edges().sort_by_distance(p)[0] for p in [
        (-345.66069, -98.683639, 0),
        (-345.66069, -18.683639, 0),
        (364.33931, -98.683639, 0),
        (364.33931, -18.683639, 0),
        (9.33931, -98.683639, 300),
        (9.33931, -18.683639, 300),
        (364.33931, -58.683639, 300),
        (-345.66069, -58.683639, 300),
    ]]
    fillet(f6_edges, radius=F6_R)


solid = f1.part
